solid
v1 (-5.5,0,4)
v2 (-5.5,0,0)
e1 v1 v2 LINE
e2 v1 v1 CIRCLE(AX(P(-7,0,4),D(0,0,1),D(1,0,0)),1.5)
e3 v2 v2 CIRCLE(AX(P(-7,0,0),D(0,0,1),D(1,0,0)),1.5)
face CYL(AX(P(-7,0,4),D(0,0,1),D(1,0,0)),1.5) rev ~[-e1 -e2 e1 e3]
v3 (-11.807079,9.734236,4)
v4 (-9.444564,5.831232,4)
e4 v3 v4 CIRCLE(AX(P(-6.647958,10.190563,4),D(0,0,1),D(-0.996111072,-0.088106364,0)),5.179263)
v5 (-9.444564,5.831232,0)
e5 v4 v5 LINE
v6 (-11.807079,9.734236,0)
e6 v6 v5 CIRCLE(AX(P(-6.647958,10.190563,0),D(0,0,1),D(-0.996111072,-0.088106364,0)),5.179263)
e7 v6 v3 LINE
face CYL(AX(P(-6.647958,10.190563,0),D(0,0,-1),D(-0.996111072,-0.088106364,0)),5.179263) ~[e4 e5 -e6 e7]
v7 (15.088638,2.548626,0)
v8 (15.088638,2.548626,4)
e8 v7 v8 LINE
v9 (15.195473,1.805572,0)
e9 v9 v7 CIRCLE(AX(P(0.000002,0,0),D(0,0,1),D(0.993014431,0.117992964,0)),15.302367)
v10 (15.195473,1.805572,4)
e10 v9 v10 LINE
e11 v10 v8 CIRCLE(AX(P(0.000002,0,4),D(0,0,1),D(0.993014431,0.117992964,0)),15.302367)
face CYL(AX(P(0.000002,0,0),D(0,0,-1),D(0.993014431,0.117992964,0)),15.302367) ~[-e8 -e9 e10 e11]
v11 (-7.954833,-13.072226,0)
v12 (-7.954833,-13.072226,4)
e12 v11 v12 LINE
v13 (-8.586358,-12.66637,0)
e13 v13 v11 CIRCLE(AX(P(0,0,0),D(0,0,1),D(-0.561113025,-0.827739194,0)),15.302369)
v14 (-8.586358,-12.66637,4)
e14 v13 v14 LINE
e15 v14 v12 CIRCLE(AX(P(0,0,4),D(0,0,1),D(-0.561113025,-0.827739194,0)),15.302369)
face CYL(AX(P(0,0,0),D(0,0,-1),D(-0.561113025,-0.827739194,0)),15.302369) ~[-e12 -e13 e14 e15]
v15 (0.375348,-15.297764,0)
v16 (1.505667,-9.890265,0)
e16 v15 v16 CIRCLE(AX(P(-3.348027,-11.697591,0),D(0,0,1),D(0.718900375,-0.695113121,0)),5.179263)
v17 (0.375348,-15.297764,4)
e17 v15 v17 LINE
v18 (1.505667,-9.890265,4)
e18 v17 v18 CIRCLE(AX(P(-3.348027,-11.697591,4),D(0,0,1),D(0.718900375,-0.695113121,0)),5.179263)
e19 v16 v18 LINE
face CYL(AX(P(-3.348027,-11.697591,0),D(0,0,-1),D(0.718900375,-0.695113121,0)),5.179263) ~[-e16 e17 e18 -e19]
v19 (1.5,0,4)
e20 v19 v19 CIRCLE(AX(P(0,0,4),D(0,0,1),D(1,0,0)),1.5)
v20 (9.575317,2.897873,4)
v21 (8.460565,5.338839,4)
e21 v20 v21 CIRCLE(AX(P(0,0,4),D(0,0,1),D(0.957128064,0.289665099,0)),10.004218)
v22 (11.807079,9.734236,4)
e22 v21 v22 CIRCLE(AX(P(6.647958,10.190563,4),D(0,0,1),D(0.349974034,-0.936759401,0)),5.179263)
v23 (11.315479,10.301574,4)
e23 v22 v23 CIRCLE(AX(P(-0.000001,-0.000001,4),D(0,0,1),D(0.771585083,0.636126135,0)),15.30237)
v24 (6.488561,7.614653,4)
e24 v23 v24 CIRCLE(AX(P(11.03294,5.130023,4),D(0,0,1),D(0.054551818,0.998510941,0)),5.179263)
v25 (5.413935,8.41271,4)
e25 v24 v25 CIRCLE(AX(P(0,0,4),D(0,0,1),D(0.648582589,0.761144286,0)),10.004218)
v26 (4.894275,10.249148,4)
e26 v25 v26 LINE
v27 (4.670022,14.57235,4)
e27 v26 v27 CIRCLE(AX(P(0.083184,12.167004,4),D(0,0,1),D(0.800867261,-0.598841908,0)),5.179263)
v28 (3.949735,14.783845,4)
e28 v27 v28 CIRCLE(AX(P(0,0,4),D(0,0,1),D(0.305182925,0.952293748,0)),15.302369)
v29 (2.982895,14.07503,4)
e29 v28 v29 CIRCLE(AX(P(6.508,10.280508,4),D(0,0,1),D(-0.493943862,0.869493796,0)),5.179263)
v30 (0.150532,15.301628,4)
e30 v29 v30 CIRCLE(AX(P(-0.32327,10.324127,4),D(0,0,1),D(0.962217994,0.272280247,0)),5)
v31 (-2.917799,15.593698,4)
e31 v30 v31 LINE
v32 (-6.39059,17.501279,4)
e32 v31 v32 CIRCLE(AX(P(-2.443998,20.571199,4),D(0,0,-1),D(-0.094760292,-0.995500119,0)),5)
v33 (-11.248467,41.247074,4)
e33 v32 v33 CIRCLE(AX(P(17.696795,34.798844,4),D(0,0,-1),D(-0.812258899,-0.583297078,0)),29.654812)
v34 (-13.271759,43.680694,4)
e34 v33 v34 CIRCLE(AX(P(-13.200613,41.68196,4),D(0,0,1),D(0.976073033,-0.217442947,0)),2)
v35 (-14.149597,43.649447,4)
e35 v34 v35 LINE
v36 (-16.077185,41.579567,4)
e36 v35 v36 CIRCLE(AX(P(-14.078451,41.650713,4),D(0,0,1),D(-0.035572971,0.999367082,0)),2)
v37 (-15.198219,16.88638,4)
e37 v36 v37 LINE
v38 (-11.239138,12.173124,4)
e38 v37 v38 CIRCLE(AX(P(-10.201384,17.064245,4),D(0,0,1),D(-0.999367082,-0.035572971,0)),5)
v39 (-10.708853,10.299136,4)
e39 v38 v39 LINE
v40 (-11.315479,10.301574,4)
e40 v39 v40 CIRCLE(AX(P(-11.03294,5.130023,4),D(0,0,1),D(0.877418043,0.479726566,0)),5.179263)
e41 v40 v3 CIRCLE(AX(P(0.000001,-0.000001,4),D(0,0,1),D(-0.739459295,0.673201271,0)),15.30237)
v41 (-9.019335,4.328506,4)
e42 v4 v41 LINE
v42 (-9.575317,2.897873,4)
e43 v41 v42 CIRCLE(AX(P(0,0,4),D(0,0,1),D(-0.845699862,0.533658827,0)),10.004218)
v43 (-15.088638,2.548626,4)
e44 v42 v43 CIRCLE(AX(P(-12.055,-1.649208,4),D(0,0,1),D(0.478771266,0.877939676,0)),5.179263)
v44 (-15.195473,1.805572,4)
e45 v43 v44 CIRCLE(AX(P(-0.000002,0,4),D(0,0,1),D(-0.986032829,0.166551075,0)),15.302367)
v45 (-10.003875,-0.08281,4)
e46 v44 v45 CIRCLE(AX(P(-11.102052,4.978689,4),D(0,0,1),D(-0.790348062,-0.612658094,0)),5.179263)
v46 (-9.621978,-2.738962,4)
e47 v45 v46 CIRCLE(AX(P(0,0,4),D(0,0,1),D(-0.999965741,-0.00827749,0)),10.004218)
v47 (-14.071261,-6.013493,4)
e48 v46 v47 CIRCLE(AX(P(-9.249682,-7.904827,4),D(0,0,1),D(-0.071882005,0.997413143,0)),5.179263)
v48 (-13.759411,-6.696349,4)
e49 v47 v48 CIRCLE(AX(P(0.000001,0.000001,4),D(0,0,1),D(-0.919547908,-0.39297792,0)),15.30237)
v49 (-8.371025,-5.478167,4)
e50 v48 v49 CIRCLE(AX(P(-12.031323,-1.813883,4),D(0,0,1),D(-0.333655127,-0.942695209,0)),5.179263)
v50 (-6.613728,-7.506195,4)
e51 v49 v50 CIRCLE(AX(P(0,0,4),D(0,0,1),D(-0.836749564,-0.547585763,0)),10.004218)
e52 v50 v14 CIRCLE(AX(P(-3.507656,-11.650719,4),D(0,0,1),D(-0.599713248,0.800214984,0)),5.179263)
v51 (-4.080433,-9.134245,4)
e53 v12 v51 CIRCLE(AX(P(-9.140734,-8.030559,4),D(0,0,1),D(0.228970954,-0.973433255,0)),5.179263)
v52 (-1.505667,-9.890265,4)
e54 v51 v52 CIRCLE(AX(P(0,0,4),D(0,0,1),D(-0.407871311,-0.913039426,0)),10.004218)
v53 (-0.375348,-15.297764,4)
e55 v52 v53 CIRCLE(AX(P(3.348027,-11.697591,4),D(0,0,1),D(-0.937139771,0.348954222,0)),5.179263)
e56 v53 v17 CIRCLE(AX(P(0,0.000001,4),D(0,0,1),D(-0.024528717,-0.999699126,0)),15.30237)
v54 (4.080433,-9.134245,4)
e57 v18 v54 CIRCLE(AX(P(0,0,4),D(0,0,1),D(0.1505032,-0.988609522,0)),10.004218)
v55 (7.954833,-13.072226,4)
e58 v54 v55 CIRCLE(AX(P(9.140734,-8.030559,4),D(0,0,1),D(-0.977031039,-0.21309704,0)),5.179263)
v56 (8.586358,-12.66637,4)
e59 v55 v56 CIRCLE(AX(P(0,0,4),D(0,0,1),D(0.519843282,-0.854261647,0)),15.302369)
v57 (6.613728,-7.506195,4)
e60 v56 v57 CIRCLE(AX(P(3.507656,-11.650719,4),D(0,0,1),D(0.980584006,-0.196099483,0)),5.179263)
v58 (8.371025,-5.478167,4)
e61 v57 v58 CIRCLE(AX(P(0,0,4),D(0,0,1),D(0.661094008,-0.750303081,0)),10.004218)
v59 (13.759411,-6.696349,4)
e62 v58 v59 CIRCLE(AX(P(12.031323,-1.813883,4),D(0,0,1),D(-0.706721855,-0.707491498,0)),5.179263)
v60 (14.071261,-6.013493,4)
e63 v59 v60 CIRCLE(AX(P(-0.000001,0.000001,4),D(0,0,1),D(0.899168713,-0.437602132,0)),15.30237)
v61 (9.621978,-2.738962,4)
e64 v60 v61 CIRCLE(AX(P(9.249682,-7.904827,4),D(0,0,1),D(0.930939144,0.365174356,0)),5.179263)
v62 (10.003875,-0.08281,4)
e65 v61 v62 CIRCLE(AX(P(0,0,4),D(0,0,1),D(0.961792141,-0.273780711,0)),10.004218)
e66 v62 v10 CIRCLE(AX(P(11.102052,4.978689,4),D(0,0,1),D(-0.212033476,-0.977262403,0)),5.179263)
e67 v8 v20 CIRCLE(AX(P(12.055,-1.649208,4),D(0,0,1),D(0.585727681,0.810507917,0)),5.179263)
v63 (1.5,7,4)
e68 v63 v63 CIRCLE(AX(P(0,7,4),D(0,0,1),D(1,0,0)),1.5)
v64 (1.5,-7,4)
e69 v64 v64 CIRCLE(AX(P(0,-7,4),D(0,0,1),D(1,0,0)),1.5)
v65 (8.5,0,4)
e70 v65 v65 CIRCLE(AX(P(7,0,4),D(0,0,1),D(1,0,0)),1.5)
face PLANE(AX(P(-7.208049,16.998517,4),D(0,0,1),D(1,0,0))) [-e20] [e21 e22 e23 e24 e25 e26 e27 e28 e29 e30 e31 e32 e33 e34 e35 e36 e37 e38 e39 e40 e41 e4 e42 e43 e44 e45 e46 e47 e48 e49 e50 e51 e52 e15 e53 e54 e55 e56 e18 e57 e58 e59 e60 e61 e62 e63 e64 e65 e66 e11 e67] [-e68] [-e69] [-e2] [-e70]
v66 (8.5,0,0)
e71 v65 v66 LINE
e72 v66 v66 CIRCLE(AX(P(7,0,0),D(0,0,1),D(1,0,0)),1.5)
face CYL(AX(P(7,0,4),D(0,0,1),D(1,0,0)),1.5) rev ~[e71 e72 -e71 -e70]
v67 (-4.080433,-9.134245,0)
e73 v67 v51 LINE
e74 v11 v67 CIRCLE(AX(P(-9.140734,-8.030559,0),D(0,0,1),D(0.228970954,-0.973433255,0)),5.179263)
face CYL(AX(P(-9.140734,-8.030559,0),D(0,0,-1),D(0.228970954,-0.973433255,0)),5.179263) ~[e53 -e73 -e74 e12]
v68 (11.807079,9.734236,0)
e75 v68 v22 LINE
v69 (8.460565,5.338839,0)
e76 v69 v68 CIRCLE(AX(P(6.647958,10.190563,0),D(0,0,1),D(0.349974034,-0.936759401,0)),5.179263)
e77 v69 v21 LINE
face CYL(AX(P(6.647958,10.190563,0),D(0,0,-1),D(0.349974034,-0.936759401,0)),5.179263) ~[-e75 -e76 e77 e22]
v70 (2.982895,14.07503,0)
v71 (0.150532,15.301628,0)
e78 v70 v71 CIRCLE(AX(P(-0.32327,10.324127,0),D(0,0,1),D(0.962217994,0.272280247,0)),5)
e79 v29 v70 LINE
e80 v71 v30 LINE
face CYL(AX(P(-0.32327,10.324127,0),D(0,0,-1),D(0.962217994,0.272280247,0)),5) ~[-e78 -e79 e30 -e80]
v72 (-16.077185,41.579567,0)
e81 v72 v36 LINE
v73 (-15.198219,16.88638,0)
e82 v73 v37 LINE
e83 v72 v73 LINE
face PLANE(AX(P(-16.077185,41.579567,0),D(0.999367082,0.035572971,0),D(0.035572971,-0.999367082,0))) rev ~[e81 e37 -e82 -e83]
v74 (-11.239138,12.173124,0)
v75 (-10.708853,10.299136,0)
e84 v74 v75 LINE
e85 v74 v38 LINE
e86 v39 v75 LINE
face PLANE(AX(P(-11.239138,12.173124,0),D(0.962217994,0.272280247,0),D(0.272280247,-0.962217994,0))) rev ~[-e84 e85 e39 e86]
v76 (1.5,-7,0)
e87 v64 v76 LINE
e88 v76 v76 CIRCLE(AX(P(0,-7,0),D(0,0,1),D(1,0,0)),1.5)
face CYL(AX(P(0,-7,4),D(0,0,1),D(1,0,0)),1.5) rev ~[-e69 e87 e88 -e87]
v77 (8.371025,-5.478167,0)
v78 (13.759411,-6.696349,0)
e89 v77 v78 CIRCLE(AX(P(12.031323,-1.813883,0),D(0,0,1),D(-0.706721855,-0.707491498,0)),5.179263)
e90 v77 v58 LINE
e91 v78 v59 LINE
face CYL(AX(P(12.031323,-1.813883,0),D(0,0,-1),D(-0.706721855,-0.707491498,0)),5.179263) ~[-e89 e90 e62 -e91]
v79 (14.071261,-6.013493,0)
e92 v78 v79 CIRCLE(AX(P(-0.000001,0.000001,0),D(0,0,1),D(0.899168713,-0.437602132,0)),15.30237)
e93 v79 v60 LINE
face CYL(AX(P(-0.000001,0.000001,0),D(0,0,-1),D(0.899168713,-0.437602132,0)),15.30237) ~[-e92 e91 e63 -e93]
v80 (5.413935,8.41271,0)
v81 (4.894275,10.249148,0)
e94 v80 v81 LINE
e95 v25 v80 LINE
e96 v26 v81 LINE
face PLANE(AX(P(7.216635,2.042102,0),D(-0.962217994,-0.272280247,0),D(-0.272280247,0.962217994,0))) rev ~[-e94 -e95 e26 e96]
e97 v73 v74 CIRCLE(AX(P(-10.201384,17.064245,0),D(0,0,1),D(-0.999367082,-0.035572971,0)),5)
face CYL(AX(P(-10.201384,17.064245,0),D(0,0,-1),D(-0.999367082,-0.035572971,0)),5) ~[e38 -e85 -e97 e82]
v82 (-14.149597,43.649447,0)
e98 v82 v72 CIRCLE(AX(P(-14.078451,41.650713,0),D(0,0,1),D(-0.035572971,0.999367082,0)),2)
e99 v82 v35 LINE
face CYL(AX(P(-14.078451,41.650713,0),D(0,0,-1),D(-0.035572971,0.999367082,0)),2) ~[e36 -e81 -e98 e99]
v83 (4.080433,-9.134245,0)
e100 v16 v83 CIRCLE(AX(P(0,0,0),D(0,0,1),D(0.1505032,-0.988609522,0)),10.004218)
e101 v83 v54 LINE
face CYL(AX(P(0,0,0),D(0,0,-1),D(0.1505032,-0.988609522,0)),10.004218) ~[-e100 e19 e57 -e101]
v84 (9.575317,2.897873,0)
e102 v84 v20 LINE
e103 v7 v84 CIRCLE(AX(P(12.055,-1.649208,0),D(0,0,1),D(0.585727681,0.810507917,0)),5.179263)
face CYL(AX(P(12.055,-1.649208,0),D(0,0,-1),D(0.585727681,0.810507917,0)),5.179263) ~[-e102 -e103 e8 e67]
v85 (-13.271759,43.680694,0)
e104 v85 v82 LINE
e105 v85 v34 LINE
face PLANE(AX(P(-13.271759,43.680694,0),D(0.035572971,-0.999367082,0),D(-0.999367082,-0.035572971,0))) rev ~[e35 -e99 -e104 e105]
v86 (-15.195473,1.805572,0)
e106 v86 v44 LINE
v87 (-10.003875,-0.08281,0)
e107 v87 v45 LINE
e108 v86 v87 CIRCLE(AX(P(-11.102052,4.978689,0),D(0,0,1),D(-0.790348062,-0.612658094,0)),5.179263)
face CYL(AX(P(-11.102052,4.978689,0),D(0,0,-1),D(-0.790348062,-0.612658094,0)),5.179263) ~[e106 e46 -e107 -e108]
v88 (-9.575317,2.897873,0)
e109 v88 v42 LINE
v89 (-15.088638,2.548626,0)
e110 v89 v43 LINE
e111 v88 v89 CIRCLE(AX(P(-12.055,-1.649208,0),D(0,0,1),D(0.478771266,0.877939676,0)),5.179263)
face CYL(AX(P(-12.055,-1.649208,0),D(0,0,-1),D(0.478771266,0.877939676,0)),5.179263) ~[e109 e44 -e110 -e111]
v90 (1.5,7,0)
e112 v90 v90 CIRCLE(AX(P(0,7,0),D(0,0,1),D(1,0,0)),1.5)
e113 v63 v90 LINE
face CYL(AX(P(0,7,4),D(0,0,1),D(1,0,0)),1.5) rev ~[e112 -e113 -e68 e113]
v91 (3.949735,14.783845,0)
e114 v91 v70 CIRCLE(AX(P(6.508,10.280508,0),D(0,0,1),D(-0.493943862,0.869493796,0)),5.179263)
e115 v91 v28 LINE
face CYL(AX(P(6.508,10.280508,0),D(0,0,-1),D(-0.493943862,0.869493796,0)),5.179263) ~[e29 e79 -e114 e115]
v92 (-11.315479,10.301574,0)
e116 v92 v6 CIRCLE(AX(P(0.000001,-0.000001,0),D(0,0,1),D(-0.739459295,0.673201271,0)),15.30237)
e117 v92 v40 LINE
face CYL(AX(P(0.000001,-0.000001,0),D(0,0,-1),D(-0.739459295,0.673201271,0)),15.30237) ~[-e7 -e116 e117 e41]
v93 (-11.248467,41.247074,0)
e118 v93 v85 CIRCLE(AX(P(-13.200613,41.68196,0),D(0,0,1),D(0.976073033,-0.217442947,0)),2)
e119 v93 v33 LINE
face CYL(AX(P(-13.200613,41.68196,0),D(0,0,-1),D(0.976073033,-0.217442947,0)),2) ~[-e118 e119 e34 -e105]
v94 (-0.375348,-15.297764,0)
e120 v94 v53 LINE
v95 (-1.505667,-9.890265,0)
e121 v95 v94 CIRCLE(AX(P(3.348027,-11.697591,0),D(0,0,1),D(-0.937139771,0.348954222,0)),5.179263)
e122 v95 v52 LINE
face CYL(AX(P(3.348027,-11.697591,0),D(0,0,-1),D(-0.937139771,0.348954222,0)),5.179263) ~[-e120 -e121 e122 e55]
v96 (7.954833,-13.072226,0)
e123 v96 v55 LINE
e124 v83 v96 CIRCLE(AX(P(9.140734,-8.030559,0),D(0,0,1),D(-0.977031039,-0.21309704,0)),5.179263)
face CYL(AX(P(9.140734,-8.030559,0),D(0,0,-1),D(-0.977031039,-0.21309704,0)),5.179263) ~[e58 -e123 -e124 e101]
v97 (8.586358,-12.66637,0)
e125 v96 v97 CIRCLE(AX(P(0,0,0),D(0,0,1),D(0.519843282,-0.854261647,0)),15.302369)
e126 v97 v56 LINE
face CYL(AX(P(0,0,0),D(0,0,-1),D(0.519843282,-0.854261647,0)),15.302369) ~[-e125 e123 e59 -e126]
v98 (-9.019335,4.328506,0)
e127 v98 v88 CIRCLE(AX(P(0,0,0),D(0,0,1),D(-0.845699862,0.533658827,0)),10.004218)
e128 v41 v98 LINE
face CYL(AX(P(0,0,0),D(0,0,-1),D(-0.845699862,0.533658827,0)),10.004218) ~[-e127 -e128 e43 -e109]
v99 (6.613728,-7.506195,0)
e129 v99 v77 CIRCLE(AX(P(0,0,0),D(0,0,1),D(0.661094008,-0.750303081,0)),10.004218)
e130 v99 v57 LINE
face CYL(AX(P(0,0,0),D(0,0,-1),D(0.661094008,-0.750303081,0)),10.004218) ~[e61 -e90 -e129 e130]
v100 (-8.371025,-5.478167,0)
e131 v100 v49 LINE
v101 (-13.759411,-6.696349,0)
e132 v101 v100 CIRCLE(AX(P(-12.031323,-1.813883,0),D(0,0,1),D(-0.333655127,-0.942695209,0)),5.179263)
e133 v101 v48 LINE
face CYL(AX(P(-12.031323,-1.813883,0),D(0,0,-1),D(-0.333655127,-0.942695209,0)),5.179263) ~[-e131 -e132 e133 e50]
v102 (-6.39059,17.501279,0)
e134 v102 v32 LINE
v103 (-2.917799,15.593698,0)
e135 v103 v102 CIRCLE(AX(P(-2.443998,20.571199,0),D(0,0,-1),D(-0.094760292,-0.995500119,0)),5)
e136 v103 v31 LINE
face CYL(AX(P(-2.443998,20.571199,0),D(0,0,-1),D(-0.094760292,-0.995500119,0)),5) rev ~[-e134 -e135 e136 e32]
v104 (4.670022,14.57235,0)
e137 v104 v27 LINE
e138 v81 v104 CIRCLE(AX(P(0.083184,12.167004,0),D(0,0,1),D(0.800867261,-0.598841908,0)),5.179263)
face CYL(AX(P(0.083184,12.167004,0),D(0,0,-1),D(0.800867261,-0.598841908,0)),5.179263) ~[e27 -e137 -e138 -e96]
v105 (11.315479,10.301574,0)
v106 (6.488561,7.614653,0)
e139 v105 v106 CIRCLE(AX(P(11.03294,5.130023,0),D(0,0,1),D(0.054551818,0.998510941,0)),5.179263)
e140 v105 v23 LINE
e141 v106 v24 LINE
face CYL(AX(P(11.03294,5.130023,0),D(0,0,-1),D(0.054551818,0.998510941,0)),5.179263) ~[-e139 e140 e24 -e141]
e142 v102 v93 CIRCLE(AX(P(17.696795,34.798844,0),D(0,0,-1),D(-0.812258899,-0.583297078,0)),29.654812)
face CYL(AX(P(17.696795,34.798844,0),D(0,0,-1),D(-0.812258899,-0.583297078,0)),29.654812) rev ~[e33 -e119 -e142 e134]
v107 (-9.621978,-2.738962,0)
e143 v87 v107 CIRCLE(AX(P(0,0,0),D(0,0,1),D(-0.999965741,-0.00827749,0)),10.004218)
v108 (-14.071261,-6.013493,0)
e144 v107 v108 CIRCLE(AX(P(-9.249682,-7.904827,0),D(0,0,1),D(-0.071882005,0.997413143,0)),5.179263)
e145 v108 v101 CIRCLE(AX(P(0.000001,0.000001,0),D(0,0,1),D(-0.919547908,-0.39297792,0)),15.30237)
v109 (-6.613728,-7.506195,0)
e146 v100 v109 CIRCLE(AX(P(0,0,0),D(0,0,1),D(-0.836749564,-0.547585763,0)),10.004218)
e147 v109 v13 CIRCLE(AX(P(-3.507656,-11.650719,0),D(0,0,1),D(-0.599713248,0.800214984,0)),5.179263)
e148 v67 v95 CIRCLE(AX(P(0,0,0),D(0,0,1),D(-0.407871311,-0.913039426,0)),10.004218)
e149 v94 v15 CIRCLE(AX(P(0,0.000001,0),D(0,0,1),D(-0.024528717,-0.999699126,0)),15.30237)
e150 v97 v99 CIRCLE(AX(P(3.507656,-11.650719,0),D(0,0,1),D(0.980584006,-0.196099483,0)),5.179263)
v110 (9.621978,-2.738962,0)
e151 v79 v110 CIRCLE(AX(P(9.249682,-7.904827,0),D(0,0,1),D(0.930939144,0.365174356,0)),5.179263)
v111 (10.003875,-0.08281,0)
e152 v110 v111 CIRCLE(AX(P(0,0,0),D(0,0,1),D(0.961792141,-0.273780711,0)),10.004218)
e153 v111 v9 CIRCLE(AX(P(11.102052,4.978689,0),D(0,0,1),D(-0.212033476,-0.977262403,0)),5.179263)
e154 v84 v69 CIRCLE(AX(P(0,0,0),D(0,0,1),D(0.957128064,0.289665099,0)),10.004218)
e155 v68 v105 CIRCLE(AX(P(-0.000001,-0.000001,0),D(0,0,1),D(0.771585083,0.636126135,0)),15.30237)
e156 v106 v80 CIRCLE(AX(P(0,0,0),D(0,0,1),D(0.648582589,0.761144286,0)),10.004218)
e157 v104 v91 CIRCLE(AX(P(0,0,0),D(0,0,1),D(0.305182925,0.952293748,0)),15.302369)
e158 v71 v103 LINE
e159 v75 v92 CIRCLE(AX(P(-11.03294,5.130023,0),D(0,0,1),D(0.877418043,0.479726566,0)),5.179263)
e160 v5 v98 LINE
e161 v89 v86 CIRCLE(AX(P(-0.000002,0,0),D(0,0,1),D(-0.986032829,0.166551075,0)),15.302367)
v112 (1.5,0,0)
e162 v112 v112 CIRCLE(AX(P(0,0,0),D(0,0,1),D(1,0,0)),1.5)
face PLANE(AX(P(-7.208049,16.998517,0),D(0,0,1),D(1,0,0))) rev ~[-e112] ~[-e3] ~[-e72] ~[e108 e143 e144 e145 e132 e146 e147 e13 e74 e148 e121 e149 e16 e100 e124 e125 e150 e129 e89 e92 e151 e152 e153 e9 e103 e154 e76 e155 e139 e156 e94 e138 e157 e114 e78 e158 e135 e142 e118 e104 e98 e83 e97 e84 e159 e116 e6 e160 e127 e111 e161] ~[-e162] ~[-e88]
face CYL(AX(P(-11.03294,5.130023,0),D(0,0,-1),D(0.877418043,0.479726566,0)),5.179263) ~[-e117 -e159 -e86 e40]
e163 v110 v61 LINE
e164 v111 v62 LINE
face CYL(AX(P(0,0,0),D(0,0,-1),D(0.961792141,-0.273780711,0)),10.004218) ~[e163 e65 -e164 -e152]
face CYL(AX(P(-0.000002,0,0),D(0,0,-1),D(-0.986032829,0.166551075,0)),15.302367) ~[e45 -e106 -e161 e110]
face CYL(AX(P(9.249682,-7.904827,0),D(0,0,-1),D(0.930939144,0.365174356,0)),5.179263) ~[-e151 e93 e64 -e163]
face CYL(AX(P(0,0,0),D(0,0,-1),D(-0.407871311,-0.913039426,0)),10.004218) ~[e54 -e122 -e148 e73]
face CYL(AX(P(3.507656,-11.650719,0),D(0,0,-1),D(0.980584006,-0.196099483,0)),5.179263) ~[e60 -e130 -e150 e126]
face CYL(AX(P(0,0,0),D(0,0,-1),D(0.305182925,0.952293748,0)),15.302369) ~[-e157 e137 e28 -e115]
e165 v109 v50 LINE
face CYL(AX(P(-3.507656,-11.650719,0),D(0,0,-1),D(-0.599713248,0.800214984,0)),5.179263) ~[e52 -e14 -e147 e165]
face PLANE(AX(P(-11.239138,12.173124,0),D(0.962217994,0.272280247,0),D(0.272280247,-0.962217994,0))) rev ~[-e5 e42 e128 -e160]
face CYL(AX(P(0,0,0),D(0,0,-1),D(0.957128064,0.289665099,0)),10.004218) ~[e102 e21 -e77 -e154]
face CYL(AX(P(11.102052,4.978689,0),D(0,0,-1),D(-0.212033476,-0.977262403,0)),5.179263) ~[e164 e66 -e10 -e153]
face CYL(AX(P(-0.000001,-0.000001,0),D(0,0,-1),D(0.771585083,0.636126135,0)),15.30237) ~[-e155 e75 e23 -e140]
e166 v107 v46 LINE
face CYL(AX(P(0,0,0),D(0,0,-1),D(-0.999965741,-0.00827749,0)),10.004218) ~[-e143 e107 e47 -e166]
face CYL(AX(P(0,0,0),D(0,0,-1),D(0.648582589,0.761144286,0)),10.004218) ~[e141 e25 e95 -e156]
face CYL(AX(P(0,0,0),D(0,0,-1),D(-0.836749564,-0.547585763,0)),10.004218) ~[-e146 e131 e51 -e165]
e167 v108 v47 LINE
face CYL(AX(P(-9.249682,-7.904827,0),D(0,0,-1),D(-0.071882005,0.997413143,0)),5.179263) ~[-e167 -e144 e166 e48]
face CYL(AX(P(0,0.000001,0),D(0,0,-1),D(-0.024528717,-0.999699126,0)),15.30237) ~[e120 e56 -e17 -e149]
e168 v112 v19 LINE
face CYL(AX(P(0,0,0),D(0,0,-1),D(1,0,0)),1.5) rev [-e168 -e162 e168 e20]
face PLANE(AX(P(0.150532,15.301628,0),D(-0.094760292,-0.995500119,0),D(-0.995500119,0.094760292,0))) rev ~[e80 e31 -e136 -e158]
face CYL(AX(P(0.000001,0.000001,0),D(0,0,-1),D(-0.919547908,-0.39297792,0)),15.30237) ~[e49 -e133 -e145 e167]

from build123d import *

# Parameters (mm, degrees)
SKETCH_1_R          = 1.5
EXTRUDE_1_DEPTH     = 4
EXTRUDE_START       = -4
SKETCH_2_R          = 1.5
EXTRUDE_2_DEPTH     = 4
SKETCH_3_R          = 1.5
CUT_EXTRUDE_1_DEPTH = 10


with BuildPart() as part:
    # Эскиз1 → Бобышка-Вытянуть1 (new body)
    with BuildSketch(Plane.XY):
        with BuildLine():
            ThreePointArc((14.071260881, -6.013492872), (12.319653053, -3.733490841), (9.621977893, -2.738961818))
            ThreePointArc((9.621977893, -2.738961818), (9.902389121, -1.423748614), (10.003874897, -0.082809815))
            ThreePointArc((10.003874897, -0.082809815), (12.872466462, 0.111410875), (15.195472667, 1.805571852))
            ThreePointArc((15.195472667, 1.805571852), (15.146612375, 2.177754087), (15.088637629, 2.548625862))
            ThreePointArc((15.088637629, 2.548625862), (12.382429194, 3.519694937), (9.575317452, 2.897872688))
            ThreePointArc((9.575317452, 2.897872688), (9.100156446, 4.155902197), (8.460565465, 5.338839053))
            ThreePointArc((8.460565465, 5.338839053), (10.768774621, 7.053105583), (11.807079223, 9.734236463))
            ThreePointArc((11.807079223, 9.734236463), (11.564758421, 10.020920215), (11.315478542, 10.301573893))
            ThreePointArc((11.315478542, 10.301573893), (8.513871556, 9.655402442), (6.488561375, 7.614653091))
            ThreePointArc((6.488561375, 7.614653091), (5.408688398, 8.416083426), (4.231086277, 9.065444244))
            ThreePointArc((4.231086277, 9.065444244), (5.246072926, 11.755489103), (4.67002155, 14.572349777))
            ThreePointArc((4.67002155, 14.572349777), (4.311175381, 14.68251498), (3.949734969, 14.783845))
            ThreePointArc((3.949734969, 14.783845), (1.942219856, 12.725587893), (1.341732908, 9.91383494))
            ThreePointArc((1.341732908, 9.91383494), (0, 10.004217632), (-1.341732908, 9.91383494))
            ThreePointArc((-1.341732908, 9.91383494), (-1.942219856, 12.725587893), (-3.949734969, 14.783845))
            ThreePointArc((-3.949734969, 14.783845), (-4.311175381, 14.68251498), (-4.67002155, 14.572349777))
            ThreePointArc((-4.67002155, 14.572349777), (-5.246072926, 11.755489103), (-4.231086277, 9.065444244))
            ThreePointArc((-4.231086277, 9.065444244), (-5.408688398, 8.416083426), (-6.488561375, 7.614653091))
            ThreePointArc((-6.488561375, 7.614653091), (-8.513871556, 9.655402442), (-11.315478542, 10.301573893))
            ThreePointArc((-11.315478542, 10.301573893), (-11.564758421, 10.020920215), (-11.807079223, 9.734236463))
            ThreePointArc((-11.807079223, 9.734236463), (-10.768774621, 7.053105583), (-8.460565465, 5.338839053))
            ThreePointArc((-8.460565465, 5.338839053), (-9.100156446, 4.155902197), (-9.575317452, 2.897872688))
            ThreePointArc((-9.575317452, 2.897872688), (-12.382429194, 3.519694937), (-15.088637629, 2.548625862))
            ThreePointArc((-15.088637629, 2.548625862), (-15.146612375, 2.177754087), (-15.195472667, 1.805571852))
            ThreePointArc((-15.195472667, 1.805571852), (-12.872466462, 0.111410875), (-10.003874897, -0.082809815))
            ThreePointArc((-10.003874897, -0.082809815), (-9.902389121, -1.423748614), (-9.621977893, -2.738961818))
            ThreePointArc((-9.621977893, -2.738961818), (-12.319653053, -3.733490841), (-14.071260881, -6.013492872))
            ThreePointArc((-14.071260881, -6.013492872), (-13.91952392, -6.356833577), (-13.759410906, -6.696349066))
            ThreePointArc((-13.759410906, -6.696349066), (-10.889241154, -6.865655999), (-8.371024733, -5.478167151))
            ThreePointArc((-8.371024733, -5.478167151), (-7.560683217, -6.551369301), (-6.613728339, -7.506195299))
            ThreePointArc((-6.613728339, -7.506195299), (-8.345474114, -9.801319657), (-8.586358225, -12.666370108))
            ThreePointArc((-8.586358225, -12.666370108), (-8.273084972, -12.873171495), (-7.954833402, -13.072226469))
            ThreePointArc((-7.954833402, -13.072226469), (-5.448758719, -11.662925603), (-4.080433364, -9.134245124))
            ThreePointArc((-4.080433364, -9.134245124), (-2.818513813, -9.598976524), (-1.505666768, -9.89026481))
            ThreePointArc((-1.505666768, -9.89026481), (-1.72166611, -12.757298735), (-0.375347502, -15.297764332))
            ThreePointArc((-0.375347502, -15.297764332), (0, -15.302368421), (0.375347502, -15.297764332))
            ThreePointArc((0.375347502, -15.297764332), (1.72166611, -12.757298735), (1.505666768, -9.89026481))
            ThreePointArc((1.505666768, -9.89026481), (2.818513813, -9.598976524), (4.080433364, -9.134245124))
            ThreePointArc((4.080433364, -9.134245124), (5.448758719, -11.662925603), (7.954833402, -13.072226469))
            ThreePointArc((7.954833402, -13.072226469), (8.273084972, -12.873171495), (8.586358225, -12.666370108))
            ThreePointArc((8.586358225, -12.666370108), (8.345474114, -9.801319657), (6.613728339, -7.506195299))
            ThreePointArc((6.613728339, -7.506195299), (7.560683217, -6.551369301), (8.371024733, -5.478167151))
            ThreePointArc((8.371024733, -5.478167151), (10.889241154, -6.865655999), (13.759410906, -6.696349066))
            ThreePointArc((13.759410906, -6.696349066), (13.91952392, -6.356833577), (14.071260881, -6.013492872))
        make_face()
        Circle(SKETCH_1_R, mode=Mode.SUBTRACT)
    extrude(amount=EXTRUDE_1_DEPTH)

    # Эскиз2 → Бобышка-Вытянуть2 (add)
    with BuildSketch(Plane.XY.offset(4).offset(EXTRUDE_START)):
        with BuildLine():
            Line((-13.27175932, 43.680693777), (-14.149597226, 43.649446698))
            ThreePointArc((-14.149597226, 43.649446698), (-15.542077543, 43.013723237), (-16.077185448, 41.579566593))
            Line((-16.077185448, 41.579566593), (-15.198219126, 16.886379902))
            ThreePointArc((-15.198219126, 16.886379902), (-14.029929813, 13.848310241), (-11.239138319, 12.173123678))
            Line((-11.239138319, 12.173123678), (-7.216634951, -2.042101853))
            ThreePointArc((-7.216634951, -2.042101853), (2.042101853, -7.216634951), (7.216634951, 2.042101853))
            Line((7.216634951, 2.042101853), (4.487820228, 11.685528641))
            ThreePointArc((4.487820228, 11.685528641), (2.878536468, 14.16449679), (0.150531719, 15.301628001))
            Line((0.150531719, 15.301628001), (-2.91779922, 15.593698218))
            ThreePointArc((-2.91779922, 15.593698218), (-4.851213091, 16.18881198), (-6.390589925, 17.501278571))
            ThreePointArc((-6.390589925, 17.501278571), (-11.35627908, 28.85521173), (-11.248467313, 41.247073721))
            ThreePointArc((-11.248467313, 41.247073721), (-11.662703429, 42.960565491), (-13.27175932, 43.680693777))
        make_face()
        Circle(SKETCH_2_R, mode=Mode.SUBTRACT)
    extrude(amount=EXTRUDE_2_DEPTH)

    # Эскиз3 → Вырез-Вытянуть1 (cut)
    with BuildSketch(Plane.XY.offset(4)):
        with Locations((0, 7)):
            Circle(SKETCH_3_R)
        with Locations((7, 0)):
            Circle(SKETCH_3_R)
        with Locations((0, -7)):
            Circle(SKETCH_3_R)
        with Locations((-7, 0)):
            Circle(SKETCH_3_R)
    extrude(amount=-CUT_EXTRUDE_1_DEPTH, mode=Mode.SUBTRACT)


solid = part.part
